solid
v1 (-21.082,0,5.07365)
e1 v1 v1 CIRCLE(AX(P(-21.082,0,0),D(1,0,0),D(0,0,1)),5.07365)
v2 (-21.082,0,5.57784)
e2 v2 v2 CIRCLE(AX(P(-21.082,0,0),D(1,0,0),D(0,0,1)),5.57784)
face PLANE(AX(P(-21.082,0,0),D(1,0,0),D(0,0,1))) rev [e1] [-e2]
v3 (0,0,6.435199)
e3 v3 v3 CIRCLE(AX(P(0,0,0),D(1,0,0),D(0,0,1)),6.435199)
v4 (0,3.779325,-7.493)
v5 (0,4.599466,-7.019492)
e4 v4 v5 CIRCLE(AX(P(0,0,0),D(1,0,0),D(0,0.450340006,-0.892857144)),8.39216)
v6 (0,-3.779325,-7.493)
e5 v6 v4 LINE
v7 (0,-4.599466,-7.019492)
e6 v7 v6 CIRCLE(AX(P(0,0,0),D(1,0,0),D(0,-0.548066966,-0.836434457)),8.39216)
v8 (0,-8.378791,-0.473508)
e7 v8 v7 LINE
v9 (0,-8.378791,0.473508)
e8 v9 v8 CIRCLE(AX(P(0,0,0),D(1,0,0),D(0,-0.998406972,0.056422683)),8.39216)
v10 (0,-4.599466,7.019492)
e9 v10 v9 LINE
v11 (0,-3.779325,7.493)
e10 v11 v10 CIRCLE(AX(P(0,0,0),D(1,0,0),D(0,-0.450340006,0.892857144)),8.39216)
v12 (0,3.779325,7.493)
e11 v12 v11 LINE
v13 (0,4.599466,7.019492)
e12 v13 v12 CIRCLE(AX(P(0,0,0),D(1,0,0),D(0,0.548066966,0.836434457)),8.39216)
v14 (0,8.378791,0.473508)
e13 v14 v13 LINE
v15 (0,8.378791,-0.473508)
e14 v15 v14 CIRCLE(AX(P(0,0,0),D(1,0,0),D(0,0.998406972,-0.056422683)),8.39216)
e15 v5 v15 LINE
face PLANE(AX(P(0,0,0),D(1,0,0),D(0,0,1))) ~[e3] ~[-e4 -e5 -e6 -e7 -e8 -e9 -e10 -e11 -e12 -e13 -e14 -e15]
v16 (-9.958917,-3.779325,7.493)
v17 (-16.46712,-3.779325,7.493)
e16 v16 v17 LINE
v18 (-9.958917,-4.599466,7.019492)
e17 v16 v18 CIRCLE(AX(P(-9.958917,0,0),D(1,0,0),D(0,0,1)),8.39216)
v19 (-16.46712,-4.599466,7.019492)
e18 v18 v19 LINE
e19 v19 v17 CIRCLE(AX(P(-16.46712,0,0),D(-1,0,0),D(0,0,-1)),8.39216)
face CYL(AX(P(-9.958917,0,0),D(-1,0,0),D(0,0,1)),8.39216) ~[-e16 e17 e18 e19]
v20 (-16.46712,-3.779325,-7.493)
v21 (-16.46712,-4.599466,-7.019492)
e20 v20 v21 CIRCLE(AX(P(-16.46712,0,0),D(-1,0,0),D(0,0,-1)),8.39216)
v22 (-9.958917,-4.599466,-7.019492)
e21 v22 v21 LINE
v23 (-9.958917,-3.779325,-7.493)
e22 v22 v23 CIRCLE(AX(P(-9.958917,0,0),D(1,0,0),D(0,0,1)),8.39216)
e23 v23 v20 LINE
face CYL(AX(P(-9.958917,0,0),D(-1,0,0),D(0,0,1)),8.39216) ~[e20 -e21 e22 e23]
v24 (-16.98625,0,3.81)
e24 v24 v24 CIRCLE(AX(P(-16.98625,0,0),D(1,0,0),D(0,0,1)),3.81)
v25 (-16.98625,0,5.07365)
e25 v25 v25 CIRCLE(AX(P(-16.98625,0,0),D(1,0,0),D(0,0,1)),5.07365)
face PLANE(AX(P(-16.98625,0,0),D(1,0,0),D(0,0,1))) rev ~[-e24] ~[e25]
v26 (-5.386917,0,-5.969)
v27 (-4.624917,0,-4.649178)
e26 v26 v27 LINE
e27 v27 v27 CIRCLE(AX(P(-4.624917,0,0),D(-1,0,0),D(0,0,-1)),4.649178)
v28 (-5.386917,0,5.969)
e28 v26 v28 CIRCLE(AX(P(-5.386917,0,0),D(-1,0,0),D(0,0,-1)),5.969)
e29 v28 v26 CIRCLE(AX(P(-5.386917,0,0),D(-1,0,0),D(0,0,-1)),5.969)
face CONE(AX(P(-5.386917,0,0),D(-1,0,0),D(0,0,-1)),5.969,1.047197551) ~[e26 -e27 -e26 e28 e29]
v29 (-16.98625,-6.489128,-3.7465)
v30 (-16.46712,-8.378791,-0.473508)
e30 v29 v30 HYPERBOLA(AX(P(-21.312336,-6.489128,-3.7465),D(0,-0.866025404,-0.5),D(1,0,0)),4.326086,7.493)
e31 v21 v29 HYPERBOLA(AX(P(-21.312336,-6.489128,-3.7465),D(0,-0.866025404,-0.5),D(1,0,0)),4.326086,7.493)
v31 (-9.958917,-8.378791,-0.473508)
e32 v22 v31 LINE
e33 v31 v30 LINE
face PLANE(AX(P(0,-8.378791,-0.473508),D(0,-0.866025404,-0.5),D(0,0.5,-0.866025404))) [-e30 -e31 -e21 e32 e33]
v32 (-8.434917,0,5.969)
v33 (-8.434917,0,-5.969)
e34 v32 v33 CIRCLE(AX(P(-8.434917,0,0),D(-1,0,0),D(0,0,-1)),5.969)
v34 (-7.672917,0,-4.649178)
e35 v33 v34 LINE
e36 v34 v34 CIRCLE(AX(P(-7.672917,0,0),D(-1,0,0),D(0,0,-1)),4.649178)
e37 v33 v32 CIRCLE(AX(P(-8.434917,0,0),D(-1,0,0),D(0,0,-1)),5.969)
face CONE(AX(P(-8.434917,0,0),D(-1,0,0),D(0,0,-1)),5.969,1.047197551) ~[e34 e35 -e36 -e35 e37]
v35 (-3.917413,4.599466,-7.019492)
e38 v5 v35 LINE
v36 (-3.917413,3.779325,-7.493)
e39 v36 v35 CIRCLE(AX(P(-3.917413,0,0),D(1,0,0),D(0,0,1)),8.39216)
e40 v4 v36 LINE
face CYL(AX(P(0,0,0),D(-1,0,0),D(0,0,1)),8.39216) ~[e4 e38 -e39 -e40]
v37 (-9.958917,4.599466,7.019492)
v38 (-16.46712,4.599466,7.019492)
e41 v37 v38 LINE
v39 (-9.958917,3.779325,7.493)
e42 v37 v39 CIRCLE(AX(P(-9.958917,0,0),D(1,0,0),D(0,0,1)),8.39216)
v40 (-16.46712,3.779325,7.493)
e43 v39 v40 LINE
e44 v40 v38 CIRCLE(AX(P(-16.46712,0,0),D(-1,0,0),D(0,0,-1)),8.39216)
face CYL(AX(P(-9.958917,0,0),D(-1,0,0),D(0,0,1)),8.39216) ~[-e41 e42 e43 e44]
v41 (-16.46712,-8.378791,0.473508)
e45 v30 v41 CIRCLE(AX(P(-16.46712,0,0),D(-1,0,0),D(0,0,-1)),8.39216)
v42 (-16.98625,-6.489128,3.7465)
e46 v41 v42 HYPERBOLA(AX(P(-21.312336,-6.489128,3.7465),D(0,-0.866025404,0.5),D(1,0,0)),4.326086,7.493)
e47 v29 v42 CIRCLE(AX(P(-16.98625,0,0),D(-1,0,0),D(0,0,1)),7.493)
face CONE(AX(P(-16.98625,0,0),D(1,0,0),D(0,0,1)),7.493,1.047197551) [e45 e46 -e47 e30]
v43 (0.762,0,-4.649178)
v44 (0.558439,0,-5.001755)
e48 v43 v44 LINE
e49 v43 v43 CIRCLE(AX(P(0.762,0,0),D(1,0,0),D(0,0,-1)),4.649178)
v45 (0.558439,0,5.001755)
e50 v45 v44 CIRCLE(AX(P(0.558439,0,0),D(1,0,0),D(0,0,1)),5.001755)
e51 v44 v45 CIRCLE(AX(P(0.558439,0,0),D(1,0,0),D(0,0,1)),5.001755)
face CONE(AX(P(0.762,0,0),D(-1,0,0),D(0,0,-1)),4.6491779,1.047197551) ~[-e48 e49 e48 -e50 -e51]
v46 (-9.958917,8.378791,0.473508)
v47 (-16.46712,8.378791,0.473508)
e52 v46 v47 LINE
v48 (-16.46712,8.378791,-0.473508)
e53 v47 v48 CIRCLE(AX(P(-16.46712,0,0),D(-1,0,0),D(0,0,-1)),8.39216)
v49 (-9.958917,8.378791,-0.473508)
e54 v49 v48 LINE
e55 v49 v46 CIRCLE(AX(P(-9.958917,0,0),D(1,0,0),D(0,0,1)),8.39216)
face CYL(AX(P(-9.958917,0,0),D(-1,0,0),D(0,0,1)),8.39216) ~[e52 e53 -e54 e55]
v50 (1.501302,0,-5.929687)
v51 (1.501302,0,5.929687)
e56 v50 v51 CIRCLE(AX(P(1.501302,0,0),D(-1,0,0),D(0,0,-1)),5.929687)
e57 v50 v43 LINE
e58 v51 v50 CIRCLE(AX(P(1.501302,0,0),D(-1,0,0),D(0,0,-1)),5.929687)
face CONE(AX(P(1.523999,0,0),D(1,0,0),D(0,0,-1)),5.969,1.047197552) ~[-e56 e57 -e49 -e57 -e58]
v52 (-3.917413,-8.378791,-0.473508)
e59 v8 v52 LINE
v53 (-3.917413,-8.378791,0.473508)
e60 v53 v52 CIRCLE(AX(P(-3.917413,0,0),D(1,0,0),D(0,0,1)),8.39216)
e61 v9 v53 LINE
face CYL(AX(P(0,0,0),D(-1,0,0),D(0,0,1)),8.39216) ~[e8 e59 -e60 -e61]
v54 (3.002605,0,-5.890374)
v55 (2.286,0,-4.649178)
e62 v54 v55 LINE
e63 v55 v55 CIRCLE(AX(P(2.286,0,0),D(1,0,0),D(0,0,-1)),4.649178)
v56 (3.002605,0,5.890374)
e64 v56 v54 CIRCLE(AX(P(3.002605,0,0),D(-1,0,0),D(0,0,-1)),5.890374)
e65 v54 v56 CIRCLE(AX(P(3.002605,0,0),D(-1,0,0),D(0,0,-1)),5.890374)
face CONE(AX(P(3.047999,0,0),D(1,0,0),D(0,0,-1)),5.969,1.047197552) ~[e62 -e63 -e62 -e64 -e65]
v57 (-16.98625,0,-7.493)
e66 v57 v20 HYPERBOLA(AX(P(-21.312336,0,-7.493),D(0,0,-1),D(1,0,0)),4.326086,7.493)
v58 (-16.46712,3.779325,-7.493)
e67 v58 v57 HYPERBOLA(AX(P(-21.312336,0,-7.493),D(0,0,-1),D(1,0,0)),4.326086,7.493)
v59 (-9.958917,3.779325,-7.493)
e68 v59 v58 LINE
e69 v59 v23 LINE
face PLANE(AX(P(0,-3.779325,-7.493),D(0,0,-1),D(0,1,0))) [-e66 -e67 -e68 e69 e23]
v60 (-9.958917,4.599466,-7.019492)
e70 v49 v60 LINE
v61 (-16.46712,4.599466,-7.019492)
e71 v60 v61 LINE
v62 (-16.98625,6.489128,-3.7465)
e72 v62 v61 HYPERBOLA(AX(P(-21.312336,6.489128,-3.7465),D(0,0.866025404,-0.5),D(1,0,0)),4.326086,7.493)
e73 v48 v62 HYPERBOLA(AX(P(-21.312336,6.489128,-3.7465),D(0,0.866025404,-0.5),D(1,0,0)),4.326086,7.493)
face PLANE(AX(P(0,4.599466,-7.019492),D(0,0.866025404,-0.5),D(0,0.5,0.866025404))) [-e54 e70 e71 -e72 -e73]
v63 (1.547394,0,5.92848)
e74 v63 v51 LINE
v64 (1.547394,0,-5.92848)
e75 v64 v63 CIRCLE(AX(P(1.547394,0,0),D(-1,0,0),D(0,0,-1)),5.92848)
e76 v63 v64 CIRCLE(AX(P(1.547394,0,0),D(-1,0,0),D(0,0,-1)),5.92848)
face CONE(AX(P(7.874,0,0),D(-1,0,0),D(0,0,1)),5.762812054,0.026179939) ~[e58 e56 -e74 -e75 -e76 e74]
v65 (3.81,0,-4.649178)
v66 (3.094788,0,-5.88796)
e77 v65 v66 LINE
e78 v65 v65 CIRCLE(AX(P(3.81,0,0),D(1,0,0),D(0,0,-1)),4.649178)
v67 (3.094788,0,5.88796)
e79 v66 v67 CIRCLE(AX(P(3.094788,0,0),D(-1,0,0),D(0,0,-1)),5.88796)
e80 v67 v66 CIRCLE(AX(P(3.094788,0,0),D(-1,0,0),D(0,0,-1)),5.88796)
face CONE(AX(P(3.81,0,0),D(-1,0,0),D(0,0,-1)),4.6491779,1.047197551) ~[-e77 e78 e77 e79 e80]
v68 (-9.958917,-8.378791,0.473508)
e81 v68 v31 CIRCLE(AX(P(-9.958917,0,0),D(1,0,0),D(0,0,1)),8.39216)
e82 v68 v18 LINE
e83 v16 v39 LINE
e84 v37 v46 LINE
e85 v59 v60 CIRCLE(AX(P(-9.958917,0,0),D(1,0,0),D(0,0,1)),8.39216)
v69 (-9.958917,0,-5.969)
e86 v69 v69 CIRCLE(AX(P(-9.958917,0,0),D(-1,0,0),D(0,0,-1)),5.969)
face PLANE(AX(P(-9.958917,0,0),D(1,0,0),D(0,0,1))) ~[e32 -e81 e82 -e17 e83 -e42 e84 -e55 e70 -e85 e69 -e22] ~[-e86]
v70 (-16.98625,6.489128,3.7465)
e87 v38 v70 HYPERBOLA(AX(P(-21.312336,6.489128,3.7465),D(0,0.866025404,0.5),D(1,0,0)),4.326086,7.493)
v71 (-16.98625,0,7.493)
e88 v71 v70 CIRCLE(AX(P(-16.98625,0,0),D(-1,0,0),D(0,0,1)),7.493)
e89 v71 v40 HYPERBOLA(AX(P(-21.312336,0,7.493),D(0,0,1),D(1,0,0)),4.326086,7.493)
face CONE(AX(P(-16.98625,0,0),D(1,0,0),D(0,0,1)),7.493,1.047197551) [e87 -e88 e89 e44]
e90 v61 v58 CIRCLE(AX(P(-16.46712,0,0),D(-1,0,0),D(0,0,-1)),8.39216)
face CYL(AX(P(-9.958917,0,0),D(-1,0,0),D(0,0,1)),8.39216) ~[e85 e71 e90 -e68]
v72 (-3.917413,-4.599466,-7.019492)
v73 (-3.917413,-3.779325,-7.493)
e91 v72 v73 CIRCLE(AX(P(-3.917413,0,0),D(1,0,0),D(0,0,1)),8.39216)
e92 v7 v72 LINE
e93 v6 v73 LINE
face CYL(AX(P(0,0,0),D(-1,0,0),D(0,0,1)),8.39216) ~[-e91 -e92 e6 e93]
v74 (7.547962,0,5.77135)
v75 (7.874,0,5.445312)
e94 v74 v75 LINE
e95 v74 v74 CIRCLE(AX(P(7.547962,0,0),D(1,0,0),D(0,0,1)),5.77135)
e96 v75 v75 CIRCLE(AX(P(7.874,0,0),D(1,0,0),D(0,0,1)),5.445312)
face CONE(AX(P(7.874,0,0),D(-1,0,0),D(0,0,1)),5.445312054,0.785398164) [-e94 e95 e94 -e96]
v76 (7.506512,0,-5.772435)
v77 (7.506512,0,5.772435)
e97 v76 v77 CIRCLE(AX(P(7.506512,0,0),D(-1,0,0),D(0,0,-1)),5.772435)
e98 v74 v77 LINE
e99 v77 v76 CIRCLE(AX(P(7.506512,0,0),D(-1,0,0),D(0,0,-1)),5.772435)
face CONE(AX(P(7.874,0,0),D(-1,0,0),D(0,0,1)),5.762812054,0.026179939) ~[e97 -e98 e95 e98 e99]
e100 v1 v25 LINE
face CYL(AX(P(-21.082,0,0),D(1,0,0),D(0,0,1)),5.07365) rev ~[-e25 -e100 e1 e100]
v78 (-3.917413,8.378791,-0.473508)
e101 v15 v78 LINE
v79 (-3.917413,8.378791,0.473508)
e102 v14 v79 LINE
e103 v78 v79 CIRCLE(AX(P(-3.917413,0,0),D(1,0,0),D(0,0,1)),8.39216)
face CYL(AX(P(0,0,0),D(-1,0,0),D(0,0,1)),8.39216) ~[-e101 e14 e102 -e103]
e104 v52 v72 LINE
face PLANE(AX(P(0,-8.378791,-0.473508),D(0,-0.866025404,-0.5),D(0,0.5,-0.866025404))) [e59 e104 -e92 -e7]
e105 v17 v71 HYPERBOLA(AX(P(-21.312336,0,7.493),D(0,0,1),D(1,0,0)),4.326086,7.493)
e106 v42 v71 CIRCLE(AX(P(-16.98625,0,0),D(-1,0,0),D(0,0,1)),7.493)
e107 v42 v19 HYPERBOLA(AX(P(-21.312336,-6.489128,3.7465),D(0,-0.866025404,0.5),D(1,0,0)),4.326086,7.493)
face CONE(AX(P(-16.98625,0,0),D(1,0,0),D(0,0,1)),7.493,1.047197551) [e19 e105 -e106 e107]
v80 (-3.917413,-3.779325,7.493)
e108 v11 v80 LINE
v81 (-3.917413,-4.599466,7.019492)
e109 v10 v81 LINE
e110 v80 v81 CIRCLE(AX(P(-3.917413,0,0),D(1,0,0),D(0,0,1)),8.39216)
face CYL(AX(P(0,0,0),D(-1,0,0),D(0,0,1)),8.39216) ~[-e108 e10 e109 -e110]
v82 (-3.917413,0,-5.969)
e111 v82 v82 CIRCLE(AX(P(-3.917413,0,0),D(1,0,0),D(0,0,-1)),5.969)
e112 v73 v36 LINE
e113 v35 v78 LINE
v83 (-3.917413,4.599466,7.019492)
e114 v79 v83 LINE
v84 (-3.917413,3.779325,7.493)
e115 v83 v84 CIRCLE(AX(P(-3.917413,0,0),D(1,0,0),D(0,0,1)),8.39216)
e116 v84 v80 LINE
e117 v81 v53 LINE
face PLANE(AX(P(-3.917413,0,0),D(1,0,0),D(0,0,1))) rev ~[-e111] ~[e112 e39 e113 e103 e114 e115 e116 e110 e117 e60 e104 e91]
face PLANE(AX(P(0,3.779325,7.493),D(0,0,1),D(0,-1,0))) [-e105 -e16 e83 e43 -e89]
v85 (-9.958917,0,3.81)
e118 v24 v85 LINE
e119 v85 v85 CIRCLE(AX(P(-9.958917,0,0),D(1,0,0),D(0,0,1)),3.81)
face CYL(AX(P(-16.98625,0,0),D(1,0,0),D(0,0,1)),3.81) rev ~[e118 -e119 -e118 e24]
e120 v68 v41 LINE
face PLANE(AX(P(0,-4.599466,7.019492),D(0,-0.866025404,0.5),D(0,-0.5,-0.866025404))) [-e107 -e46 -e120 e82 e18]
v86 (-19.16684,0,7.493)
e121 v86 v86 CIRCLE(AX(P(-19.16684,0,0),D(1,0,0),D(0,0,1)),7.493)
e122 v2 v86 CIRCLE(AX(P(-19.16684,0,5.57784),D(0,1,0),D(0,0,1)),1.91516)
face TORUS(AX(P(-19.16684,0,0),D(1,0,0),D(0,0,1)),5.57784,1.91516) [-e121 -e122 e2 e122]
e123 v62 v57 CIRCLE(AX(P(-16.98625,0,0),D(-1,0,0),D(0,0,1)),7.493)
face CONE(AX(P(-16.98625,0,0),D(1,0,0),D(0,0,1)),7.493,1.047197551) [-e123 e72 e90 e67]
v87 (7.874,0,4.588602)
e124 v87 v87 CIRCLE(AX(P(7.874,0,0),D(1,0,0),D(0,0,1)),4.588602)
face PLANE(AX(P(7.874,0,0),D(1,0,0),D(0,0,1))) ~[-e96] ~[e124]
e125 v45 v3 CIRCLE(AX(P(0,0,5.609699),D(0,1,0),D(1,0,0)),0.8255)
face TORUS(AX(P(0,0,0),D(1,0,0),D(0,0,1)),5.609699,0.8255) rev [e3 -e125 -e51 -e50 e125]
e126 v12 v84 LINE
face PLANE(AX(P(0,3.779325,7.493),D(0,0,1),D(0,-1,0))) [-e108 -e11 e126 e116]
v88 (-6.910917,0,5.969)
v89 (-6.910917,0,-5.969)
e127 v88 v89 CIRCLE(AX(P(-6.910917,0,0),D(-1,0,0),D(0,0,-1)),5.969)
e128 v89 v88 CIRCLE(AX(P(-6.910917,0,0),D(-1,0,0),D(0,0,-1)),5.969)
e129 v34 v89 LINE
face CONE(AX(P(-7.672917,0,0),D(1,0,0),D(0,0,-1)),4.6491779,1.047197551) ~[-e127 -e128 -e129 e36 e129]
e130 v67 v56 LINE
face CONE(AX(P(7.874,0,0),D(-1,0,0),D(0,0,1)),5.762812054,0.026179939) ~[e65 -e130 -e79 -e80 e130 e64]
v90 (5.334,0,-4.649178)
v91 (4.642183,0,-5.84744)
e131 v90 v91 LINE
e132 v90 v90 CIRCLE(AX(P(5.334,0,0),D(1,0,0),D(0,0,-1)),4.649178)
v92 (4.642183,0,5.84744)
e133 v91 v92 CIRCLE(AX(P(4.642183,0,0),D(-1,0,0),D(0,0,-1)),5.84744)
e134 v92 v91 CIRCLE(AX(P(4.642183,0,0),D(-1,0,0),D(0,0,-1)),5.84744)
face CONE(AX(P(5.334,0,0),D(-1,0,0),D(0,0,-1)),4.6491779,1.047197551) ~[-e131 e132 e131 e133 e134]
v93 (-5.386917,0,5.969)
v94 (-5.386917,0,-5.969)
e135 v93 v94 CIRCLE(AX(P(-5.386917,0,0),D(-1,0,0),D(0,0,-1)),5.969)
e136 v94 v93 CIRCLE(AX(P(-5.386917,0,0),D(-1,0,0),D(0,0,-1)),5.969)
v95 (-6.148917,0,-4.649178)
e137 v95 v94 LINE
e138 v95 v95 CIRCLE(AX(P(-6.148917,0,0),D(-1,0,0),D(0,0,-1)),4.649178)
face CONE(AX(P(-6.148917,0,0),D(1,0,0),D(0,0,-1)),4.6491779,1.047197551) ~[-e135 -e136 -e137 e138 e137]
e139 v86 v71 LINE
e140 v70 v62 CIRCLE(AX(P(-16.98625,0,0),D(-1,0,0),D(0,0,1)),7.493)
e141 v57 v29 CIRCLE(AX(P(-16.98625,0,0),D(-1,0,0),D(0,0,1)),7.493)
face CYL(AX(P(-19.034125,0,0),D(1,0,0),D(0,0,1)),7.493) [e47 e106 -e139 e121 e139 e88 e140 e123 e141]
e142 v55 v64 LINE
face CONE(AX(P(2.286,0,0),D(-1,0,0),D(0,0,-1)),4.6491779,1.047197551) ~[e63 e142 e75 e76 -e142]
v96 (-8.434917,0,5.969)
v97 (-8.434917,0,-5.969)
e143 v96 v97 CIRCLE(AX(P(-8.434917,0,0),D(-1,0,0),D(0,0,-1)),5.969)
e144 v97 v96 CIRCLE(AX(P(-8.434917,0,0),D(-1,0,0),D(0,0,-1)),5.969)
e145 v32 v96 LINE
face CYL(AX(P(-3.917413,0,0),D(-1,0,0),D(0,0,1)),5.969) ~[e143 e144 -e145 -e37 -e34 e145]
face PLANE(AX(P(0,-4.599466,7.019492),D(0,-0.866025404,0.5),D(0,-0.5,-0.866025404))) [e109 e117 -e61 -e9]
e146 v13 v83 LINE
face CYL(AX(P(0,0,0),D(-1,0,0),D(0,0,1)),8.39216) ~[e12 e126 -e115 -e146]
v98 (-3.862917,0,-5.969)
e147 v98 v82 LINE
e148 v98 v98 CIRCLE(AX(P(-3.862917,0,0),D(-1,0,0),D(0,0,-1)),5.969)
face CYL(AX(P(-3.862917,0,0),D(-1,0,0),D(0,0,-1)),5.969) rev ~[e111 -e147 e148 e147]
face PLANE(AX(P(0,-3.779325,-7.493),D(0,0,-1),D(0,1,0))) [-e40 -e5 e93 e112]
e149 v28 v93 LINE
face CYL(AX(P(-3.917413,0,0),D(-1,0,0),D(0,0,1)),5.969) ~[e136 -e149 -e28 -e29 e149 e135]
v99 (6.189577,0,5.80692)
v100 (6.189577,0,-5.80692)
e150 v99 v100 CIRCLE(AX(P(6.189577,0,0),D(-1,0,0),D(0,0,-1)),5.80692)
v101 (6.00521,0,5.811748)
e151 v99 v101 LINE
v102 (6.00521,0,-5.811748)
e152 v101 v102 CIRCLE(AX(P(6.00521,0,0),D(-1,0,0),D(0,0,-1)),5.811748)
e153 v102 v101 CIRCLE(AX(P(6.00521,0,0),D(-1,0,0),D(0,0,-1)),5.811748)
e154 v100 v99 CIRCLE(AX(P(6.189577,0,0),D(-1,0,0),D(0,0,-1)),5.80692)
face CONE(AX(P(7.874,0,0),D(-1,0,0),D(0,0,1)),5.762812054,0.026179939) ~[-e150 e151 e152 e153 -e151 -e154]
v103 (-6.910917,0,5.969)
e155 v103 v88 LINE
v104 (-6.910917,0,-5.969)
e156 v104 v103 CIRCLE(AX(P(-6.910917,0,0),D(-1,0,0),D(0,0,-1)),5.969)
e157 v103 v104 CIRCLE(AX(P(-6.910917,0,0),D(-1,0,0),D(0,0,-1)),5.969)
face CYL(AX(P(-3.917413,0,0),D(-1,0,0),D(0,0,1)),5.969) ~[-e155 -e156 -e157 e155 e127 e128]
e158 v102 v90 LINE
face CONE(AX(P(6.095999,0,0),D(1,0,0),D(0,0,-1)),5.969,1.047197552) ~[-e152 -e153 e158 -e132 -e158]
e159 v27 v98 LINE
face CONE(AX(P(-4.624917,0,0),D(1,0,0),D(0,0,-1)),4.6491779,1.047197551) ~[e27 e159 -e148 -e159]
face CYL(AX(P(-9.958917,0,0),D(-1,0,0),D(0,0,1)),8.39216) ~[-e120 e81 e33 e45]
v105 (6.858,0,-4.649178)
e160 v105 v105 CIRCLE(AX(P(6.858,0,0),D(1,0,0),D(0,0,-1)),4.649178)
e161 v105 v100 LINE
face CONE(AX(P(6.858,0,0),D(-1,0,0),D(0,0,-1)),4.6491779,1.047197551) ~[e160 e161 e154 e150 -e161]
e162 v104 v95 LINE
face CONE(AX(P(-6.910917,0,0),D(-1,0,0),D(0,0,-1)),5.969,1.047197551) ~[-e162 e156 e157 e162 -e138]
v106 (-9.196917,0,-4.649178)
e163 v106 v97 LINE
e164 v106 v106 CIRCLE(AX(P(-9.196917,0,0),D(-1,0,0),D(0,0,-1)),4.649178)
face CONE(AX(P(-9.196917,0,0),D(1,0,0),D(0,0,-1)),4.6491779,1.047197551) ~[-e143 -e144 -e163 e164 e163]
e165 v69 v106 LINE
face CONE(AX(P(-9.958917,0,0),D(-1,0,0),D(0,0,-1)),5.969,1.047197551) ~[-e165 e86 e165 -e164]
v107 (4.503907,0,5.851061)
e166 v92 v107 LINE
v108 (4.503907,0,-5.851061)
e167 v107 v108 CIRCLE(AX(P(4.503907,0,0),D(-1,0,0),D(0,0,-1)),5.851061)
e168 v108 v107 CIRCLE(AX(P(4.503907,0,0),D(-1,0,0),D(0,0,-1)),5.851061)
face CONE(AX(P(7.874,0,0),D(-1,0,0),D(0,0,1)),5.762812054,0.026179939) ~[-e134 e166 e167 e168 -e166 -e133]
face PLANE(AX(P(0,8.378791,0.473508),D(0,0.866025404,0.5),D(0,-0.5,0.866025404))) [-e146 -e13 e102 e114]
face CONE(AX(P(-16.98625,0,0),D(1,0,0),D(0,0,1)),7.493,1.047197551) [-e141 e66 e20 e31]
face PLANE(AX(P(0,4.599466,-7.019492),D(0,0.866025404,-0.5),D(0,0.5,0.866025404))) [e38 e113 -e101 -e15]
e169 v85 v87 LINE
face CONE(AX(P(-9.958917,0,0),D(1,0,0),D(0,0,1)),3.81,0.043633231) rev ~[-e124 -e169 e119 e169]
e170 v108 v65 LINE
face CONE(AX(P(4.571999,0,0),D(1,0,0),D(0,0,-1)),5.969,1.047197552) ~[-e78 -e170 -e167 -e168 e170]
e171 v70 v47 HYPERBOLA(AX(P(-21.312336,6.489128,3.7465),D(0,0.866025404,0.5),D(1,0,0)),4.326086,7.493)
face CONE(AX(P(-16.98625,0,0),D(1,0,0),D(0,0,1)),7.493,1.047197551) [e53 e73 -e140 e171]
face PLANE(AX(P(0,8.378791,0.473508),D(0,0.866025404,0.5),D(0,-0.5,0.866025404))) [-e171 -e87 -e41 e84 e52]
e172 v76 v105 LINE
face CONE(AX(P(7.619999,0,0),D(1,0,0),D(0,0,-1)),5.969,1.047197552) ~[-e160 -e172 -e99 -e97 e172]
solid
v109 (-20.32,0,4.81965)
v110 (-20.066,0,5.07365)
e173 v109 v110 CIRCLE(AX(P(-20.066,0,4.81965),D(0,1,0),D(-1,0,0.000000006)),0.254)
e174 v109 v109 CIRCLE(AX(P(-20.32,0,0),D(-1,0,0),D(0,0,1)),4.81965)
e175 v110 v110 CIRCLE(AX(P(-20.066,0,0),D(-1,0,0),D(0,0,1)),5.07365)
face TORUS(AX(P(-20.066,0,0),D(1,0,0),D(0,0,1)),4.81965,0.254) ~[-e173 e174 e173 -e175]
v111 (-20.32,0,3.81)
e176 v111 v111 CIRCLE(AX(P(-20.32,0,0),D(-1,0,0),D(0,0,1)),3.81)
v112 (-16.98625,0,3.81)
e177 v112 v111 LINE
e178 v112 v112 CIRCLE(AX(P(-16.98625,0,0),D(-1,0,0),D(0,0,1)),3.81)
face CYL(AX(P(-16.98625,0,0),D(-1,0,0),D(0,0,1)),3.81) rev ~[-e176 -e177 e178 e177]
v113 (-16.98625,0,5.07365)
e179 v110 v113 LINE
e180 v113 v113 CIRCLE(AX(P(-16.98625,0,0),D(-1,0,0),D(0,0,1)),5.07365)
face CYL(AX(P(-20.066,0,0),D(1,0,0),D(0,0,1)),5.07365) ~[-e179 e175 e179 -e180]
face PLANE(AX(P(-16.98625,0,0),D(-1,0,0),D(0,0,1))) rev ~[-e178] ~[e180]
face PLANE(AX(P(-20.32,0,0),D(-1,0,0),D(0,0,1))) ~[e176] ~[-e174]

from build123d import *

# Parameters (mm, degrees)
SKETCH2_OUTSIDE_W  = 26.272
SKETCH2_OUTSIDE_H  = 26.272
CUT_EXTRUDE1_DEPTH = 16.98625
CHAMFER1_SIZE      = 0.326149358
CHAMFER1_SIZE2     = 0.3175
SKETCH3_OUTSIDE_W  = 113.902
SKETCH3_OUTSIDE_H  = 115.7
SKETCH3_OUTSIDE_R  = 7.493
CUT_EXTRUDE2_DEPTH = 25.86025
CUT_EXTRUDE2_DRAFT = -60
SKETCH14_W         = 4.09575
SKETCH14_H         = 1.524
FILLET1_R          = 1.91516
LPATTERN1_COUNT    = 4
LPATTERN1_PITCH    = 1.524
LPATTERN2_COUNT    = 6
LPATTERN2_PITCH    = 1.524
SKETCH15_R         = 0.8255


with BuildPart() as part:
    # Sketch1 → Revolve1 (revolve)
    with BuildSketch(Plane.XY, mode=Mode.PRIVATE) as revolve1_sk:
        Polygon((-9.958916667, 5.969), (-9.958916667, 8.39216), (-16.98625, 8.39216), (-16.98625, 5.969), (-21.082, 5.969), (-21.082, 5.07365), (-16.98625, 5.07365), (-16.98625, 3.81), (-9.958916667, 3.81), (7.874, 4.588601956), (7.874, 5.762812054), (0, 5.969), (0, 8.39216), (-3.917412935, 8.39216), (-3.917412935, 5.969), align=None)
    revolve(revolve1_sk.sketch.rotate(Axis((-18.386021217, 0, 0), (1, 0, 0)), 90), axis=Axis((-18.386021217, 0, 0), (1, 0, 0)))  # turned: the seam where the file's is

    # Sketch2 outside → Cut-Extrude1 (cut)
    with BuildSketch(Plane(origin=(0, 0, 0), x_dir=(0, 0, -1), z_dir=(1, 0, 0))):
        Rectangle(SKETCH2_OUTSIDE_W, SKETCH2_OUTSIDE_H)
        with BuildLine():
            Line((7.493, -3.779325398), (7.493, 3.779325398))
            ThreePointArc((7.493, 3.779325398), (7.267823753, 4.19608), (7.019491804, 4.599465651))
            Line((7.019491804, 4.599465651), (0.473508196, 8.37879105))
            ThreePointArc((0.473508196, 8.37879105), (0, 8.39216), (-0.473508196, 8.37879105))
            Line((-0.473508196, 8.37879105), (-7.019491804, 4.599465651))
            ThreePointArc((-7.019491804, 4.599465651), (-7.267823753, 4.19608), (-7.493, 3.779325398))
            Line((-7.493, 3.779325398), (-7.493, -3.779325398))
            ThreePointArc((-7.493, -3.779325398), (-7.267823753, -4.19608), (-7.019491804, -4.599465651))
            Line((-7.019491804, -4.599465651), (-0.473508196, -8.37879105))
            ThreePointArc((-0.473508196, -8.37879105), (0, -8.39216), (0.473508196, -8.37879105))
            Line((0.473508196, -8.37879105), (7.019491804, -4.599465651))
            ThreePointArc((7.019491804, -4.599465651), (7.267823753, -4.19608), (7.493, -3.779325398))
        make_face(mode=Mode.SUBTRACT)
    extrude(amount=-CUT_EXTRUDE1_DEPTH, mode=Mode.SUBTRACT)

    # Chamfer1
    chamfer1_edges = [part.edges().sort_by_distance(p)[0] for p in [
        (7.874, 0, -5.762812054),
    ]]
    chamfer1_side = [part.faces().sort_by_distance(p)[0] for p in [
        (3.937, 0, -5.865906027),
    ]]
    chamfer(chamfer1_edges, length=CHAMFER1_SIZE, length2=CHAMFER1_SIZE2, reference=chamfer1_side[0])


with BuildPart() as cut_extrude2_tool:
    # Sketch3 outside → Cut-Extrude2 (with draft: the straight prism first)
    with BuildSketch(Plane.ZY.offset(16.98625)):
        Rectangle(SKETCH3_OUTSIDE_W, SKETCH3_OUTSIDE_H)
        Circle(SKETCH3_OUTSIDE_R, mode=Mode.SUBTRACT)
    extrude(amount=-CUT_EXTRUDE2_DEPTH)
    # Cut-Extrude2: the draft: its side faces are tilted about the plane it starts from
    cut_extrude2_sides = [cut_extrude2_tool.faces().sort_by_distance(p)[0] for p in [
        (-4.056125, -57.85, 0),
        (-4.056125, 0, 56.951),
        (-4.056125, 57.85, 0),
        (-4.056125, 0, -56.951),
        (-4.056125, 0, -7.493),
    ]]
    draft(cut_extrude2_sides, Plane.ZY.offset(16.98625), CUT_EXTRUDE2_DRAFT)


with BuildPart() as part_1:
    add(part.part)

    # Cut-Extrude2: cut by cut_extrude2_tool
    add(cut_extrude2_tool.part, mode=Mode.SUBTRACT)

    # Sketch14 → Revolve4 (revolve)
    with BuildSketch(Plane.XY, mode=Mode.PRIVATE) as revolve4_sk:
        with Locations((-19.034125, 6.731)):
            Rectangle(SKETCH14_W, SKETCH14_H)
    revolve(revolve4_sk.sketch.rotate(Axis((-18.386021217, 0, 0), (1, 0, 0)), 90), axis=Axis((-18.386021217, 0, 0), (1, 0, 0)))  # turned: the seam where the file's is

    # Fillet1
    fillet1_edges = [part_1.edges().sort_by_distance(p)[0] for p in [
        (-21.082, 0, -7.493),
    ]]
    fillet(fillet1_edges, radius=FILLET1_R)

    # Sketch10 → Cut-Revolve1 (revolve, cut)
    with BuildSketch(Plane.XY, mode=Mode.PRIVATE) as cut_revolve1_sk:
        Polygon((-9.958916667, 5.969), (-9.196917022, 4.6491779), (-8.434917377, 5.969), align=None)
    cut_revolve1 = revolve(cut_revolve1_sk.sketch.rotate(Axis((15.58962545, 0, 0), (-1, 0, 0)), 90), axis=Axis((15.58962545, 0, 0), (-1, 0, 0)), mode=Mode.SUBTRACT)  # turned: the seam where the file's is

    # LPattern1: Cut-Revolve1 ×4
    with Locations(*[(i * LPATTERN1_PITCH, 0, 0) for i in range(1, LPATTERN1_COUNT)]):
        add(cut_revolve1, mode=Mode.SUBTRACT)

    # Sketch13 → Cut-Revolve2 (revolve, cut)
    with BuildSketch(Plane.XY, mode=Mode.PRIVATE) as cut_revolve2_sk:
        Polygon((0, 5.969), (1.523999289, 5.969), (0.761999645, 4.6491779), align=None)
    cut_revolve2 = revolve(cut_revolve2_sk.sketch.rotate(Axis((-18.386021217, 0, 0), (1, 0, 0)), 270), axis=Axis((-18.386021217, 0, 0), (1, 0, 0)), mode=Mode.SUBTRACT)  # turned: the seam where the file's is

    # LPattern2: Cut-Revolve2 ×6
    with Locations(*[(i * LPATTERN2_PITCH, 0, 0) for i in range(1, LPATTERN2_COUNT)]):
        add(cut_revolve2, mode=Mode.SUBTRACT)

    # Sketch15 → Cut-Revolve3 (revolve, cut)
    with BuildSketch(Plane.XY, mode=Mode.PRIVATE) as cut_revolve3_sk:
        with Locations((0, -5.609698712)):
            Circle(SKETCH15_R)
    revolve(cut_revolve3_sk.sketch.rotate(Axis((1.524, 0, 0), (-1, 0, 0)), 90), axis=Axis((1.524, 0, 0), (-1, 0, 0)), mode=Mode.SUBTRACT)  # turned: the seam where the file's is


with BuildPart() as body_2:
    # Sketch9 → Revolve3 (revolve)
    with BuildSketch(Plane.XY, mode=Mode.PRIVATE) as revolve3_sk:
        with BuildLine():
            Line((-20.32, 3.81), (-20.32, 4.81965))
            ThreePointArc((-20.32, 4.81965), (-20.245605122, 4.999255122), (-20.066, 5.07365))
            Line((-20.066, 5.07365), (-16.98625, 5.07365))
            Line((-16.98625, 5.07365), (-16.98625, 3.81))
            Line((-16.98625, 3.81), (-20.32, 3.81))
        make_face()
    revolve(revolve3_sk.sketch.rotate(Axis((8.695207459, 0, 0), (-1, 0, 0)), 270), axis=Axis((8.695207459, 0, 0), (-1, 0, 0)))  # turned: the seam where the file's is


solid = Compound([part_1.part, body_2.part])
